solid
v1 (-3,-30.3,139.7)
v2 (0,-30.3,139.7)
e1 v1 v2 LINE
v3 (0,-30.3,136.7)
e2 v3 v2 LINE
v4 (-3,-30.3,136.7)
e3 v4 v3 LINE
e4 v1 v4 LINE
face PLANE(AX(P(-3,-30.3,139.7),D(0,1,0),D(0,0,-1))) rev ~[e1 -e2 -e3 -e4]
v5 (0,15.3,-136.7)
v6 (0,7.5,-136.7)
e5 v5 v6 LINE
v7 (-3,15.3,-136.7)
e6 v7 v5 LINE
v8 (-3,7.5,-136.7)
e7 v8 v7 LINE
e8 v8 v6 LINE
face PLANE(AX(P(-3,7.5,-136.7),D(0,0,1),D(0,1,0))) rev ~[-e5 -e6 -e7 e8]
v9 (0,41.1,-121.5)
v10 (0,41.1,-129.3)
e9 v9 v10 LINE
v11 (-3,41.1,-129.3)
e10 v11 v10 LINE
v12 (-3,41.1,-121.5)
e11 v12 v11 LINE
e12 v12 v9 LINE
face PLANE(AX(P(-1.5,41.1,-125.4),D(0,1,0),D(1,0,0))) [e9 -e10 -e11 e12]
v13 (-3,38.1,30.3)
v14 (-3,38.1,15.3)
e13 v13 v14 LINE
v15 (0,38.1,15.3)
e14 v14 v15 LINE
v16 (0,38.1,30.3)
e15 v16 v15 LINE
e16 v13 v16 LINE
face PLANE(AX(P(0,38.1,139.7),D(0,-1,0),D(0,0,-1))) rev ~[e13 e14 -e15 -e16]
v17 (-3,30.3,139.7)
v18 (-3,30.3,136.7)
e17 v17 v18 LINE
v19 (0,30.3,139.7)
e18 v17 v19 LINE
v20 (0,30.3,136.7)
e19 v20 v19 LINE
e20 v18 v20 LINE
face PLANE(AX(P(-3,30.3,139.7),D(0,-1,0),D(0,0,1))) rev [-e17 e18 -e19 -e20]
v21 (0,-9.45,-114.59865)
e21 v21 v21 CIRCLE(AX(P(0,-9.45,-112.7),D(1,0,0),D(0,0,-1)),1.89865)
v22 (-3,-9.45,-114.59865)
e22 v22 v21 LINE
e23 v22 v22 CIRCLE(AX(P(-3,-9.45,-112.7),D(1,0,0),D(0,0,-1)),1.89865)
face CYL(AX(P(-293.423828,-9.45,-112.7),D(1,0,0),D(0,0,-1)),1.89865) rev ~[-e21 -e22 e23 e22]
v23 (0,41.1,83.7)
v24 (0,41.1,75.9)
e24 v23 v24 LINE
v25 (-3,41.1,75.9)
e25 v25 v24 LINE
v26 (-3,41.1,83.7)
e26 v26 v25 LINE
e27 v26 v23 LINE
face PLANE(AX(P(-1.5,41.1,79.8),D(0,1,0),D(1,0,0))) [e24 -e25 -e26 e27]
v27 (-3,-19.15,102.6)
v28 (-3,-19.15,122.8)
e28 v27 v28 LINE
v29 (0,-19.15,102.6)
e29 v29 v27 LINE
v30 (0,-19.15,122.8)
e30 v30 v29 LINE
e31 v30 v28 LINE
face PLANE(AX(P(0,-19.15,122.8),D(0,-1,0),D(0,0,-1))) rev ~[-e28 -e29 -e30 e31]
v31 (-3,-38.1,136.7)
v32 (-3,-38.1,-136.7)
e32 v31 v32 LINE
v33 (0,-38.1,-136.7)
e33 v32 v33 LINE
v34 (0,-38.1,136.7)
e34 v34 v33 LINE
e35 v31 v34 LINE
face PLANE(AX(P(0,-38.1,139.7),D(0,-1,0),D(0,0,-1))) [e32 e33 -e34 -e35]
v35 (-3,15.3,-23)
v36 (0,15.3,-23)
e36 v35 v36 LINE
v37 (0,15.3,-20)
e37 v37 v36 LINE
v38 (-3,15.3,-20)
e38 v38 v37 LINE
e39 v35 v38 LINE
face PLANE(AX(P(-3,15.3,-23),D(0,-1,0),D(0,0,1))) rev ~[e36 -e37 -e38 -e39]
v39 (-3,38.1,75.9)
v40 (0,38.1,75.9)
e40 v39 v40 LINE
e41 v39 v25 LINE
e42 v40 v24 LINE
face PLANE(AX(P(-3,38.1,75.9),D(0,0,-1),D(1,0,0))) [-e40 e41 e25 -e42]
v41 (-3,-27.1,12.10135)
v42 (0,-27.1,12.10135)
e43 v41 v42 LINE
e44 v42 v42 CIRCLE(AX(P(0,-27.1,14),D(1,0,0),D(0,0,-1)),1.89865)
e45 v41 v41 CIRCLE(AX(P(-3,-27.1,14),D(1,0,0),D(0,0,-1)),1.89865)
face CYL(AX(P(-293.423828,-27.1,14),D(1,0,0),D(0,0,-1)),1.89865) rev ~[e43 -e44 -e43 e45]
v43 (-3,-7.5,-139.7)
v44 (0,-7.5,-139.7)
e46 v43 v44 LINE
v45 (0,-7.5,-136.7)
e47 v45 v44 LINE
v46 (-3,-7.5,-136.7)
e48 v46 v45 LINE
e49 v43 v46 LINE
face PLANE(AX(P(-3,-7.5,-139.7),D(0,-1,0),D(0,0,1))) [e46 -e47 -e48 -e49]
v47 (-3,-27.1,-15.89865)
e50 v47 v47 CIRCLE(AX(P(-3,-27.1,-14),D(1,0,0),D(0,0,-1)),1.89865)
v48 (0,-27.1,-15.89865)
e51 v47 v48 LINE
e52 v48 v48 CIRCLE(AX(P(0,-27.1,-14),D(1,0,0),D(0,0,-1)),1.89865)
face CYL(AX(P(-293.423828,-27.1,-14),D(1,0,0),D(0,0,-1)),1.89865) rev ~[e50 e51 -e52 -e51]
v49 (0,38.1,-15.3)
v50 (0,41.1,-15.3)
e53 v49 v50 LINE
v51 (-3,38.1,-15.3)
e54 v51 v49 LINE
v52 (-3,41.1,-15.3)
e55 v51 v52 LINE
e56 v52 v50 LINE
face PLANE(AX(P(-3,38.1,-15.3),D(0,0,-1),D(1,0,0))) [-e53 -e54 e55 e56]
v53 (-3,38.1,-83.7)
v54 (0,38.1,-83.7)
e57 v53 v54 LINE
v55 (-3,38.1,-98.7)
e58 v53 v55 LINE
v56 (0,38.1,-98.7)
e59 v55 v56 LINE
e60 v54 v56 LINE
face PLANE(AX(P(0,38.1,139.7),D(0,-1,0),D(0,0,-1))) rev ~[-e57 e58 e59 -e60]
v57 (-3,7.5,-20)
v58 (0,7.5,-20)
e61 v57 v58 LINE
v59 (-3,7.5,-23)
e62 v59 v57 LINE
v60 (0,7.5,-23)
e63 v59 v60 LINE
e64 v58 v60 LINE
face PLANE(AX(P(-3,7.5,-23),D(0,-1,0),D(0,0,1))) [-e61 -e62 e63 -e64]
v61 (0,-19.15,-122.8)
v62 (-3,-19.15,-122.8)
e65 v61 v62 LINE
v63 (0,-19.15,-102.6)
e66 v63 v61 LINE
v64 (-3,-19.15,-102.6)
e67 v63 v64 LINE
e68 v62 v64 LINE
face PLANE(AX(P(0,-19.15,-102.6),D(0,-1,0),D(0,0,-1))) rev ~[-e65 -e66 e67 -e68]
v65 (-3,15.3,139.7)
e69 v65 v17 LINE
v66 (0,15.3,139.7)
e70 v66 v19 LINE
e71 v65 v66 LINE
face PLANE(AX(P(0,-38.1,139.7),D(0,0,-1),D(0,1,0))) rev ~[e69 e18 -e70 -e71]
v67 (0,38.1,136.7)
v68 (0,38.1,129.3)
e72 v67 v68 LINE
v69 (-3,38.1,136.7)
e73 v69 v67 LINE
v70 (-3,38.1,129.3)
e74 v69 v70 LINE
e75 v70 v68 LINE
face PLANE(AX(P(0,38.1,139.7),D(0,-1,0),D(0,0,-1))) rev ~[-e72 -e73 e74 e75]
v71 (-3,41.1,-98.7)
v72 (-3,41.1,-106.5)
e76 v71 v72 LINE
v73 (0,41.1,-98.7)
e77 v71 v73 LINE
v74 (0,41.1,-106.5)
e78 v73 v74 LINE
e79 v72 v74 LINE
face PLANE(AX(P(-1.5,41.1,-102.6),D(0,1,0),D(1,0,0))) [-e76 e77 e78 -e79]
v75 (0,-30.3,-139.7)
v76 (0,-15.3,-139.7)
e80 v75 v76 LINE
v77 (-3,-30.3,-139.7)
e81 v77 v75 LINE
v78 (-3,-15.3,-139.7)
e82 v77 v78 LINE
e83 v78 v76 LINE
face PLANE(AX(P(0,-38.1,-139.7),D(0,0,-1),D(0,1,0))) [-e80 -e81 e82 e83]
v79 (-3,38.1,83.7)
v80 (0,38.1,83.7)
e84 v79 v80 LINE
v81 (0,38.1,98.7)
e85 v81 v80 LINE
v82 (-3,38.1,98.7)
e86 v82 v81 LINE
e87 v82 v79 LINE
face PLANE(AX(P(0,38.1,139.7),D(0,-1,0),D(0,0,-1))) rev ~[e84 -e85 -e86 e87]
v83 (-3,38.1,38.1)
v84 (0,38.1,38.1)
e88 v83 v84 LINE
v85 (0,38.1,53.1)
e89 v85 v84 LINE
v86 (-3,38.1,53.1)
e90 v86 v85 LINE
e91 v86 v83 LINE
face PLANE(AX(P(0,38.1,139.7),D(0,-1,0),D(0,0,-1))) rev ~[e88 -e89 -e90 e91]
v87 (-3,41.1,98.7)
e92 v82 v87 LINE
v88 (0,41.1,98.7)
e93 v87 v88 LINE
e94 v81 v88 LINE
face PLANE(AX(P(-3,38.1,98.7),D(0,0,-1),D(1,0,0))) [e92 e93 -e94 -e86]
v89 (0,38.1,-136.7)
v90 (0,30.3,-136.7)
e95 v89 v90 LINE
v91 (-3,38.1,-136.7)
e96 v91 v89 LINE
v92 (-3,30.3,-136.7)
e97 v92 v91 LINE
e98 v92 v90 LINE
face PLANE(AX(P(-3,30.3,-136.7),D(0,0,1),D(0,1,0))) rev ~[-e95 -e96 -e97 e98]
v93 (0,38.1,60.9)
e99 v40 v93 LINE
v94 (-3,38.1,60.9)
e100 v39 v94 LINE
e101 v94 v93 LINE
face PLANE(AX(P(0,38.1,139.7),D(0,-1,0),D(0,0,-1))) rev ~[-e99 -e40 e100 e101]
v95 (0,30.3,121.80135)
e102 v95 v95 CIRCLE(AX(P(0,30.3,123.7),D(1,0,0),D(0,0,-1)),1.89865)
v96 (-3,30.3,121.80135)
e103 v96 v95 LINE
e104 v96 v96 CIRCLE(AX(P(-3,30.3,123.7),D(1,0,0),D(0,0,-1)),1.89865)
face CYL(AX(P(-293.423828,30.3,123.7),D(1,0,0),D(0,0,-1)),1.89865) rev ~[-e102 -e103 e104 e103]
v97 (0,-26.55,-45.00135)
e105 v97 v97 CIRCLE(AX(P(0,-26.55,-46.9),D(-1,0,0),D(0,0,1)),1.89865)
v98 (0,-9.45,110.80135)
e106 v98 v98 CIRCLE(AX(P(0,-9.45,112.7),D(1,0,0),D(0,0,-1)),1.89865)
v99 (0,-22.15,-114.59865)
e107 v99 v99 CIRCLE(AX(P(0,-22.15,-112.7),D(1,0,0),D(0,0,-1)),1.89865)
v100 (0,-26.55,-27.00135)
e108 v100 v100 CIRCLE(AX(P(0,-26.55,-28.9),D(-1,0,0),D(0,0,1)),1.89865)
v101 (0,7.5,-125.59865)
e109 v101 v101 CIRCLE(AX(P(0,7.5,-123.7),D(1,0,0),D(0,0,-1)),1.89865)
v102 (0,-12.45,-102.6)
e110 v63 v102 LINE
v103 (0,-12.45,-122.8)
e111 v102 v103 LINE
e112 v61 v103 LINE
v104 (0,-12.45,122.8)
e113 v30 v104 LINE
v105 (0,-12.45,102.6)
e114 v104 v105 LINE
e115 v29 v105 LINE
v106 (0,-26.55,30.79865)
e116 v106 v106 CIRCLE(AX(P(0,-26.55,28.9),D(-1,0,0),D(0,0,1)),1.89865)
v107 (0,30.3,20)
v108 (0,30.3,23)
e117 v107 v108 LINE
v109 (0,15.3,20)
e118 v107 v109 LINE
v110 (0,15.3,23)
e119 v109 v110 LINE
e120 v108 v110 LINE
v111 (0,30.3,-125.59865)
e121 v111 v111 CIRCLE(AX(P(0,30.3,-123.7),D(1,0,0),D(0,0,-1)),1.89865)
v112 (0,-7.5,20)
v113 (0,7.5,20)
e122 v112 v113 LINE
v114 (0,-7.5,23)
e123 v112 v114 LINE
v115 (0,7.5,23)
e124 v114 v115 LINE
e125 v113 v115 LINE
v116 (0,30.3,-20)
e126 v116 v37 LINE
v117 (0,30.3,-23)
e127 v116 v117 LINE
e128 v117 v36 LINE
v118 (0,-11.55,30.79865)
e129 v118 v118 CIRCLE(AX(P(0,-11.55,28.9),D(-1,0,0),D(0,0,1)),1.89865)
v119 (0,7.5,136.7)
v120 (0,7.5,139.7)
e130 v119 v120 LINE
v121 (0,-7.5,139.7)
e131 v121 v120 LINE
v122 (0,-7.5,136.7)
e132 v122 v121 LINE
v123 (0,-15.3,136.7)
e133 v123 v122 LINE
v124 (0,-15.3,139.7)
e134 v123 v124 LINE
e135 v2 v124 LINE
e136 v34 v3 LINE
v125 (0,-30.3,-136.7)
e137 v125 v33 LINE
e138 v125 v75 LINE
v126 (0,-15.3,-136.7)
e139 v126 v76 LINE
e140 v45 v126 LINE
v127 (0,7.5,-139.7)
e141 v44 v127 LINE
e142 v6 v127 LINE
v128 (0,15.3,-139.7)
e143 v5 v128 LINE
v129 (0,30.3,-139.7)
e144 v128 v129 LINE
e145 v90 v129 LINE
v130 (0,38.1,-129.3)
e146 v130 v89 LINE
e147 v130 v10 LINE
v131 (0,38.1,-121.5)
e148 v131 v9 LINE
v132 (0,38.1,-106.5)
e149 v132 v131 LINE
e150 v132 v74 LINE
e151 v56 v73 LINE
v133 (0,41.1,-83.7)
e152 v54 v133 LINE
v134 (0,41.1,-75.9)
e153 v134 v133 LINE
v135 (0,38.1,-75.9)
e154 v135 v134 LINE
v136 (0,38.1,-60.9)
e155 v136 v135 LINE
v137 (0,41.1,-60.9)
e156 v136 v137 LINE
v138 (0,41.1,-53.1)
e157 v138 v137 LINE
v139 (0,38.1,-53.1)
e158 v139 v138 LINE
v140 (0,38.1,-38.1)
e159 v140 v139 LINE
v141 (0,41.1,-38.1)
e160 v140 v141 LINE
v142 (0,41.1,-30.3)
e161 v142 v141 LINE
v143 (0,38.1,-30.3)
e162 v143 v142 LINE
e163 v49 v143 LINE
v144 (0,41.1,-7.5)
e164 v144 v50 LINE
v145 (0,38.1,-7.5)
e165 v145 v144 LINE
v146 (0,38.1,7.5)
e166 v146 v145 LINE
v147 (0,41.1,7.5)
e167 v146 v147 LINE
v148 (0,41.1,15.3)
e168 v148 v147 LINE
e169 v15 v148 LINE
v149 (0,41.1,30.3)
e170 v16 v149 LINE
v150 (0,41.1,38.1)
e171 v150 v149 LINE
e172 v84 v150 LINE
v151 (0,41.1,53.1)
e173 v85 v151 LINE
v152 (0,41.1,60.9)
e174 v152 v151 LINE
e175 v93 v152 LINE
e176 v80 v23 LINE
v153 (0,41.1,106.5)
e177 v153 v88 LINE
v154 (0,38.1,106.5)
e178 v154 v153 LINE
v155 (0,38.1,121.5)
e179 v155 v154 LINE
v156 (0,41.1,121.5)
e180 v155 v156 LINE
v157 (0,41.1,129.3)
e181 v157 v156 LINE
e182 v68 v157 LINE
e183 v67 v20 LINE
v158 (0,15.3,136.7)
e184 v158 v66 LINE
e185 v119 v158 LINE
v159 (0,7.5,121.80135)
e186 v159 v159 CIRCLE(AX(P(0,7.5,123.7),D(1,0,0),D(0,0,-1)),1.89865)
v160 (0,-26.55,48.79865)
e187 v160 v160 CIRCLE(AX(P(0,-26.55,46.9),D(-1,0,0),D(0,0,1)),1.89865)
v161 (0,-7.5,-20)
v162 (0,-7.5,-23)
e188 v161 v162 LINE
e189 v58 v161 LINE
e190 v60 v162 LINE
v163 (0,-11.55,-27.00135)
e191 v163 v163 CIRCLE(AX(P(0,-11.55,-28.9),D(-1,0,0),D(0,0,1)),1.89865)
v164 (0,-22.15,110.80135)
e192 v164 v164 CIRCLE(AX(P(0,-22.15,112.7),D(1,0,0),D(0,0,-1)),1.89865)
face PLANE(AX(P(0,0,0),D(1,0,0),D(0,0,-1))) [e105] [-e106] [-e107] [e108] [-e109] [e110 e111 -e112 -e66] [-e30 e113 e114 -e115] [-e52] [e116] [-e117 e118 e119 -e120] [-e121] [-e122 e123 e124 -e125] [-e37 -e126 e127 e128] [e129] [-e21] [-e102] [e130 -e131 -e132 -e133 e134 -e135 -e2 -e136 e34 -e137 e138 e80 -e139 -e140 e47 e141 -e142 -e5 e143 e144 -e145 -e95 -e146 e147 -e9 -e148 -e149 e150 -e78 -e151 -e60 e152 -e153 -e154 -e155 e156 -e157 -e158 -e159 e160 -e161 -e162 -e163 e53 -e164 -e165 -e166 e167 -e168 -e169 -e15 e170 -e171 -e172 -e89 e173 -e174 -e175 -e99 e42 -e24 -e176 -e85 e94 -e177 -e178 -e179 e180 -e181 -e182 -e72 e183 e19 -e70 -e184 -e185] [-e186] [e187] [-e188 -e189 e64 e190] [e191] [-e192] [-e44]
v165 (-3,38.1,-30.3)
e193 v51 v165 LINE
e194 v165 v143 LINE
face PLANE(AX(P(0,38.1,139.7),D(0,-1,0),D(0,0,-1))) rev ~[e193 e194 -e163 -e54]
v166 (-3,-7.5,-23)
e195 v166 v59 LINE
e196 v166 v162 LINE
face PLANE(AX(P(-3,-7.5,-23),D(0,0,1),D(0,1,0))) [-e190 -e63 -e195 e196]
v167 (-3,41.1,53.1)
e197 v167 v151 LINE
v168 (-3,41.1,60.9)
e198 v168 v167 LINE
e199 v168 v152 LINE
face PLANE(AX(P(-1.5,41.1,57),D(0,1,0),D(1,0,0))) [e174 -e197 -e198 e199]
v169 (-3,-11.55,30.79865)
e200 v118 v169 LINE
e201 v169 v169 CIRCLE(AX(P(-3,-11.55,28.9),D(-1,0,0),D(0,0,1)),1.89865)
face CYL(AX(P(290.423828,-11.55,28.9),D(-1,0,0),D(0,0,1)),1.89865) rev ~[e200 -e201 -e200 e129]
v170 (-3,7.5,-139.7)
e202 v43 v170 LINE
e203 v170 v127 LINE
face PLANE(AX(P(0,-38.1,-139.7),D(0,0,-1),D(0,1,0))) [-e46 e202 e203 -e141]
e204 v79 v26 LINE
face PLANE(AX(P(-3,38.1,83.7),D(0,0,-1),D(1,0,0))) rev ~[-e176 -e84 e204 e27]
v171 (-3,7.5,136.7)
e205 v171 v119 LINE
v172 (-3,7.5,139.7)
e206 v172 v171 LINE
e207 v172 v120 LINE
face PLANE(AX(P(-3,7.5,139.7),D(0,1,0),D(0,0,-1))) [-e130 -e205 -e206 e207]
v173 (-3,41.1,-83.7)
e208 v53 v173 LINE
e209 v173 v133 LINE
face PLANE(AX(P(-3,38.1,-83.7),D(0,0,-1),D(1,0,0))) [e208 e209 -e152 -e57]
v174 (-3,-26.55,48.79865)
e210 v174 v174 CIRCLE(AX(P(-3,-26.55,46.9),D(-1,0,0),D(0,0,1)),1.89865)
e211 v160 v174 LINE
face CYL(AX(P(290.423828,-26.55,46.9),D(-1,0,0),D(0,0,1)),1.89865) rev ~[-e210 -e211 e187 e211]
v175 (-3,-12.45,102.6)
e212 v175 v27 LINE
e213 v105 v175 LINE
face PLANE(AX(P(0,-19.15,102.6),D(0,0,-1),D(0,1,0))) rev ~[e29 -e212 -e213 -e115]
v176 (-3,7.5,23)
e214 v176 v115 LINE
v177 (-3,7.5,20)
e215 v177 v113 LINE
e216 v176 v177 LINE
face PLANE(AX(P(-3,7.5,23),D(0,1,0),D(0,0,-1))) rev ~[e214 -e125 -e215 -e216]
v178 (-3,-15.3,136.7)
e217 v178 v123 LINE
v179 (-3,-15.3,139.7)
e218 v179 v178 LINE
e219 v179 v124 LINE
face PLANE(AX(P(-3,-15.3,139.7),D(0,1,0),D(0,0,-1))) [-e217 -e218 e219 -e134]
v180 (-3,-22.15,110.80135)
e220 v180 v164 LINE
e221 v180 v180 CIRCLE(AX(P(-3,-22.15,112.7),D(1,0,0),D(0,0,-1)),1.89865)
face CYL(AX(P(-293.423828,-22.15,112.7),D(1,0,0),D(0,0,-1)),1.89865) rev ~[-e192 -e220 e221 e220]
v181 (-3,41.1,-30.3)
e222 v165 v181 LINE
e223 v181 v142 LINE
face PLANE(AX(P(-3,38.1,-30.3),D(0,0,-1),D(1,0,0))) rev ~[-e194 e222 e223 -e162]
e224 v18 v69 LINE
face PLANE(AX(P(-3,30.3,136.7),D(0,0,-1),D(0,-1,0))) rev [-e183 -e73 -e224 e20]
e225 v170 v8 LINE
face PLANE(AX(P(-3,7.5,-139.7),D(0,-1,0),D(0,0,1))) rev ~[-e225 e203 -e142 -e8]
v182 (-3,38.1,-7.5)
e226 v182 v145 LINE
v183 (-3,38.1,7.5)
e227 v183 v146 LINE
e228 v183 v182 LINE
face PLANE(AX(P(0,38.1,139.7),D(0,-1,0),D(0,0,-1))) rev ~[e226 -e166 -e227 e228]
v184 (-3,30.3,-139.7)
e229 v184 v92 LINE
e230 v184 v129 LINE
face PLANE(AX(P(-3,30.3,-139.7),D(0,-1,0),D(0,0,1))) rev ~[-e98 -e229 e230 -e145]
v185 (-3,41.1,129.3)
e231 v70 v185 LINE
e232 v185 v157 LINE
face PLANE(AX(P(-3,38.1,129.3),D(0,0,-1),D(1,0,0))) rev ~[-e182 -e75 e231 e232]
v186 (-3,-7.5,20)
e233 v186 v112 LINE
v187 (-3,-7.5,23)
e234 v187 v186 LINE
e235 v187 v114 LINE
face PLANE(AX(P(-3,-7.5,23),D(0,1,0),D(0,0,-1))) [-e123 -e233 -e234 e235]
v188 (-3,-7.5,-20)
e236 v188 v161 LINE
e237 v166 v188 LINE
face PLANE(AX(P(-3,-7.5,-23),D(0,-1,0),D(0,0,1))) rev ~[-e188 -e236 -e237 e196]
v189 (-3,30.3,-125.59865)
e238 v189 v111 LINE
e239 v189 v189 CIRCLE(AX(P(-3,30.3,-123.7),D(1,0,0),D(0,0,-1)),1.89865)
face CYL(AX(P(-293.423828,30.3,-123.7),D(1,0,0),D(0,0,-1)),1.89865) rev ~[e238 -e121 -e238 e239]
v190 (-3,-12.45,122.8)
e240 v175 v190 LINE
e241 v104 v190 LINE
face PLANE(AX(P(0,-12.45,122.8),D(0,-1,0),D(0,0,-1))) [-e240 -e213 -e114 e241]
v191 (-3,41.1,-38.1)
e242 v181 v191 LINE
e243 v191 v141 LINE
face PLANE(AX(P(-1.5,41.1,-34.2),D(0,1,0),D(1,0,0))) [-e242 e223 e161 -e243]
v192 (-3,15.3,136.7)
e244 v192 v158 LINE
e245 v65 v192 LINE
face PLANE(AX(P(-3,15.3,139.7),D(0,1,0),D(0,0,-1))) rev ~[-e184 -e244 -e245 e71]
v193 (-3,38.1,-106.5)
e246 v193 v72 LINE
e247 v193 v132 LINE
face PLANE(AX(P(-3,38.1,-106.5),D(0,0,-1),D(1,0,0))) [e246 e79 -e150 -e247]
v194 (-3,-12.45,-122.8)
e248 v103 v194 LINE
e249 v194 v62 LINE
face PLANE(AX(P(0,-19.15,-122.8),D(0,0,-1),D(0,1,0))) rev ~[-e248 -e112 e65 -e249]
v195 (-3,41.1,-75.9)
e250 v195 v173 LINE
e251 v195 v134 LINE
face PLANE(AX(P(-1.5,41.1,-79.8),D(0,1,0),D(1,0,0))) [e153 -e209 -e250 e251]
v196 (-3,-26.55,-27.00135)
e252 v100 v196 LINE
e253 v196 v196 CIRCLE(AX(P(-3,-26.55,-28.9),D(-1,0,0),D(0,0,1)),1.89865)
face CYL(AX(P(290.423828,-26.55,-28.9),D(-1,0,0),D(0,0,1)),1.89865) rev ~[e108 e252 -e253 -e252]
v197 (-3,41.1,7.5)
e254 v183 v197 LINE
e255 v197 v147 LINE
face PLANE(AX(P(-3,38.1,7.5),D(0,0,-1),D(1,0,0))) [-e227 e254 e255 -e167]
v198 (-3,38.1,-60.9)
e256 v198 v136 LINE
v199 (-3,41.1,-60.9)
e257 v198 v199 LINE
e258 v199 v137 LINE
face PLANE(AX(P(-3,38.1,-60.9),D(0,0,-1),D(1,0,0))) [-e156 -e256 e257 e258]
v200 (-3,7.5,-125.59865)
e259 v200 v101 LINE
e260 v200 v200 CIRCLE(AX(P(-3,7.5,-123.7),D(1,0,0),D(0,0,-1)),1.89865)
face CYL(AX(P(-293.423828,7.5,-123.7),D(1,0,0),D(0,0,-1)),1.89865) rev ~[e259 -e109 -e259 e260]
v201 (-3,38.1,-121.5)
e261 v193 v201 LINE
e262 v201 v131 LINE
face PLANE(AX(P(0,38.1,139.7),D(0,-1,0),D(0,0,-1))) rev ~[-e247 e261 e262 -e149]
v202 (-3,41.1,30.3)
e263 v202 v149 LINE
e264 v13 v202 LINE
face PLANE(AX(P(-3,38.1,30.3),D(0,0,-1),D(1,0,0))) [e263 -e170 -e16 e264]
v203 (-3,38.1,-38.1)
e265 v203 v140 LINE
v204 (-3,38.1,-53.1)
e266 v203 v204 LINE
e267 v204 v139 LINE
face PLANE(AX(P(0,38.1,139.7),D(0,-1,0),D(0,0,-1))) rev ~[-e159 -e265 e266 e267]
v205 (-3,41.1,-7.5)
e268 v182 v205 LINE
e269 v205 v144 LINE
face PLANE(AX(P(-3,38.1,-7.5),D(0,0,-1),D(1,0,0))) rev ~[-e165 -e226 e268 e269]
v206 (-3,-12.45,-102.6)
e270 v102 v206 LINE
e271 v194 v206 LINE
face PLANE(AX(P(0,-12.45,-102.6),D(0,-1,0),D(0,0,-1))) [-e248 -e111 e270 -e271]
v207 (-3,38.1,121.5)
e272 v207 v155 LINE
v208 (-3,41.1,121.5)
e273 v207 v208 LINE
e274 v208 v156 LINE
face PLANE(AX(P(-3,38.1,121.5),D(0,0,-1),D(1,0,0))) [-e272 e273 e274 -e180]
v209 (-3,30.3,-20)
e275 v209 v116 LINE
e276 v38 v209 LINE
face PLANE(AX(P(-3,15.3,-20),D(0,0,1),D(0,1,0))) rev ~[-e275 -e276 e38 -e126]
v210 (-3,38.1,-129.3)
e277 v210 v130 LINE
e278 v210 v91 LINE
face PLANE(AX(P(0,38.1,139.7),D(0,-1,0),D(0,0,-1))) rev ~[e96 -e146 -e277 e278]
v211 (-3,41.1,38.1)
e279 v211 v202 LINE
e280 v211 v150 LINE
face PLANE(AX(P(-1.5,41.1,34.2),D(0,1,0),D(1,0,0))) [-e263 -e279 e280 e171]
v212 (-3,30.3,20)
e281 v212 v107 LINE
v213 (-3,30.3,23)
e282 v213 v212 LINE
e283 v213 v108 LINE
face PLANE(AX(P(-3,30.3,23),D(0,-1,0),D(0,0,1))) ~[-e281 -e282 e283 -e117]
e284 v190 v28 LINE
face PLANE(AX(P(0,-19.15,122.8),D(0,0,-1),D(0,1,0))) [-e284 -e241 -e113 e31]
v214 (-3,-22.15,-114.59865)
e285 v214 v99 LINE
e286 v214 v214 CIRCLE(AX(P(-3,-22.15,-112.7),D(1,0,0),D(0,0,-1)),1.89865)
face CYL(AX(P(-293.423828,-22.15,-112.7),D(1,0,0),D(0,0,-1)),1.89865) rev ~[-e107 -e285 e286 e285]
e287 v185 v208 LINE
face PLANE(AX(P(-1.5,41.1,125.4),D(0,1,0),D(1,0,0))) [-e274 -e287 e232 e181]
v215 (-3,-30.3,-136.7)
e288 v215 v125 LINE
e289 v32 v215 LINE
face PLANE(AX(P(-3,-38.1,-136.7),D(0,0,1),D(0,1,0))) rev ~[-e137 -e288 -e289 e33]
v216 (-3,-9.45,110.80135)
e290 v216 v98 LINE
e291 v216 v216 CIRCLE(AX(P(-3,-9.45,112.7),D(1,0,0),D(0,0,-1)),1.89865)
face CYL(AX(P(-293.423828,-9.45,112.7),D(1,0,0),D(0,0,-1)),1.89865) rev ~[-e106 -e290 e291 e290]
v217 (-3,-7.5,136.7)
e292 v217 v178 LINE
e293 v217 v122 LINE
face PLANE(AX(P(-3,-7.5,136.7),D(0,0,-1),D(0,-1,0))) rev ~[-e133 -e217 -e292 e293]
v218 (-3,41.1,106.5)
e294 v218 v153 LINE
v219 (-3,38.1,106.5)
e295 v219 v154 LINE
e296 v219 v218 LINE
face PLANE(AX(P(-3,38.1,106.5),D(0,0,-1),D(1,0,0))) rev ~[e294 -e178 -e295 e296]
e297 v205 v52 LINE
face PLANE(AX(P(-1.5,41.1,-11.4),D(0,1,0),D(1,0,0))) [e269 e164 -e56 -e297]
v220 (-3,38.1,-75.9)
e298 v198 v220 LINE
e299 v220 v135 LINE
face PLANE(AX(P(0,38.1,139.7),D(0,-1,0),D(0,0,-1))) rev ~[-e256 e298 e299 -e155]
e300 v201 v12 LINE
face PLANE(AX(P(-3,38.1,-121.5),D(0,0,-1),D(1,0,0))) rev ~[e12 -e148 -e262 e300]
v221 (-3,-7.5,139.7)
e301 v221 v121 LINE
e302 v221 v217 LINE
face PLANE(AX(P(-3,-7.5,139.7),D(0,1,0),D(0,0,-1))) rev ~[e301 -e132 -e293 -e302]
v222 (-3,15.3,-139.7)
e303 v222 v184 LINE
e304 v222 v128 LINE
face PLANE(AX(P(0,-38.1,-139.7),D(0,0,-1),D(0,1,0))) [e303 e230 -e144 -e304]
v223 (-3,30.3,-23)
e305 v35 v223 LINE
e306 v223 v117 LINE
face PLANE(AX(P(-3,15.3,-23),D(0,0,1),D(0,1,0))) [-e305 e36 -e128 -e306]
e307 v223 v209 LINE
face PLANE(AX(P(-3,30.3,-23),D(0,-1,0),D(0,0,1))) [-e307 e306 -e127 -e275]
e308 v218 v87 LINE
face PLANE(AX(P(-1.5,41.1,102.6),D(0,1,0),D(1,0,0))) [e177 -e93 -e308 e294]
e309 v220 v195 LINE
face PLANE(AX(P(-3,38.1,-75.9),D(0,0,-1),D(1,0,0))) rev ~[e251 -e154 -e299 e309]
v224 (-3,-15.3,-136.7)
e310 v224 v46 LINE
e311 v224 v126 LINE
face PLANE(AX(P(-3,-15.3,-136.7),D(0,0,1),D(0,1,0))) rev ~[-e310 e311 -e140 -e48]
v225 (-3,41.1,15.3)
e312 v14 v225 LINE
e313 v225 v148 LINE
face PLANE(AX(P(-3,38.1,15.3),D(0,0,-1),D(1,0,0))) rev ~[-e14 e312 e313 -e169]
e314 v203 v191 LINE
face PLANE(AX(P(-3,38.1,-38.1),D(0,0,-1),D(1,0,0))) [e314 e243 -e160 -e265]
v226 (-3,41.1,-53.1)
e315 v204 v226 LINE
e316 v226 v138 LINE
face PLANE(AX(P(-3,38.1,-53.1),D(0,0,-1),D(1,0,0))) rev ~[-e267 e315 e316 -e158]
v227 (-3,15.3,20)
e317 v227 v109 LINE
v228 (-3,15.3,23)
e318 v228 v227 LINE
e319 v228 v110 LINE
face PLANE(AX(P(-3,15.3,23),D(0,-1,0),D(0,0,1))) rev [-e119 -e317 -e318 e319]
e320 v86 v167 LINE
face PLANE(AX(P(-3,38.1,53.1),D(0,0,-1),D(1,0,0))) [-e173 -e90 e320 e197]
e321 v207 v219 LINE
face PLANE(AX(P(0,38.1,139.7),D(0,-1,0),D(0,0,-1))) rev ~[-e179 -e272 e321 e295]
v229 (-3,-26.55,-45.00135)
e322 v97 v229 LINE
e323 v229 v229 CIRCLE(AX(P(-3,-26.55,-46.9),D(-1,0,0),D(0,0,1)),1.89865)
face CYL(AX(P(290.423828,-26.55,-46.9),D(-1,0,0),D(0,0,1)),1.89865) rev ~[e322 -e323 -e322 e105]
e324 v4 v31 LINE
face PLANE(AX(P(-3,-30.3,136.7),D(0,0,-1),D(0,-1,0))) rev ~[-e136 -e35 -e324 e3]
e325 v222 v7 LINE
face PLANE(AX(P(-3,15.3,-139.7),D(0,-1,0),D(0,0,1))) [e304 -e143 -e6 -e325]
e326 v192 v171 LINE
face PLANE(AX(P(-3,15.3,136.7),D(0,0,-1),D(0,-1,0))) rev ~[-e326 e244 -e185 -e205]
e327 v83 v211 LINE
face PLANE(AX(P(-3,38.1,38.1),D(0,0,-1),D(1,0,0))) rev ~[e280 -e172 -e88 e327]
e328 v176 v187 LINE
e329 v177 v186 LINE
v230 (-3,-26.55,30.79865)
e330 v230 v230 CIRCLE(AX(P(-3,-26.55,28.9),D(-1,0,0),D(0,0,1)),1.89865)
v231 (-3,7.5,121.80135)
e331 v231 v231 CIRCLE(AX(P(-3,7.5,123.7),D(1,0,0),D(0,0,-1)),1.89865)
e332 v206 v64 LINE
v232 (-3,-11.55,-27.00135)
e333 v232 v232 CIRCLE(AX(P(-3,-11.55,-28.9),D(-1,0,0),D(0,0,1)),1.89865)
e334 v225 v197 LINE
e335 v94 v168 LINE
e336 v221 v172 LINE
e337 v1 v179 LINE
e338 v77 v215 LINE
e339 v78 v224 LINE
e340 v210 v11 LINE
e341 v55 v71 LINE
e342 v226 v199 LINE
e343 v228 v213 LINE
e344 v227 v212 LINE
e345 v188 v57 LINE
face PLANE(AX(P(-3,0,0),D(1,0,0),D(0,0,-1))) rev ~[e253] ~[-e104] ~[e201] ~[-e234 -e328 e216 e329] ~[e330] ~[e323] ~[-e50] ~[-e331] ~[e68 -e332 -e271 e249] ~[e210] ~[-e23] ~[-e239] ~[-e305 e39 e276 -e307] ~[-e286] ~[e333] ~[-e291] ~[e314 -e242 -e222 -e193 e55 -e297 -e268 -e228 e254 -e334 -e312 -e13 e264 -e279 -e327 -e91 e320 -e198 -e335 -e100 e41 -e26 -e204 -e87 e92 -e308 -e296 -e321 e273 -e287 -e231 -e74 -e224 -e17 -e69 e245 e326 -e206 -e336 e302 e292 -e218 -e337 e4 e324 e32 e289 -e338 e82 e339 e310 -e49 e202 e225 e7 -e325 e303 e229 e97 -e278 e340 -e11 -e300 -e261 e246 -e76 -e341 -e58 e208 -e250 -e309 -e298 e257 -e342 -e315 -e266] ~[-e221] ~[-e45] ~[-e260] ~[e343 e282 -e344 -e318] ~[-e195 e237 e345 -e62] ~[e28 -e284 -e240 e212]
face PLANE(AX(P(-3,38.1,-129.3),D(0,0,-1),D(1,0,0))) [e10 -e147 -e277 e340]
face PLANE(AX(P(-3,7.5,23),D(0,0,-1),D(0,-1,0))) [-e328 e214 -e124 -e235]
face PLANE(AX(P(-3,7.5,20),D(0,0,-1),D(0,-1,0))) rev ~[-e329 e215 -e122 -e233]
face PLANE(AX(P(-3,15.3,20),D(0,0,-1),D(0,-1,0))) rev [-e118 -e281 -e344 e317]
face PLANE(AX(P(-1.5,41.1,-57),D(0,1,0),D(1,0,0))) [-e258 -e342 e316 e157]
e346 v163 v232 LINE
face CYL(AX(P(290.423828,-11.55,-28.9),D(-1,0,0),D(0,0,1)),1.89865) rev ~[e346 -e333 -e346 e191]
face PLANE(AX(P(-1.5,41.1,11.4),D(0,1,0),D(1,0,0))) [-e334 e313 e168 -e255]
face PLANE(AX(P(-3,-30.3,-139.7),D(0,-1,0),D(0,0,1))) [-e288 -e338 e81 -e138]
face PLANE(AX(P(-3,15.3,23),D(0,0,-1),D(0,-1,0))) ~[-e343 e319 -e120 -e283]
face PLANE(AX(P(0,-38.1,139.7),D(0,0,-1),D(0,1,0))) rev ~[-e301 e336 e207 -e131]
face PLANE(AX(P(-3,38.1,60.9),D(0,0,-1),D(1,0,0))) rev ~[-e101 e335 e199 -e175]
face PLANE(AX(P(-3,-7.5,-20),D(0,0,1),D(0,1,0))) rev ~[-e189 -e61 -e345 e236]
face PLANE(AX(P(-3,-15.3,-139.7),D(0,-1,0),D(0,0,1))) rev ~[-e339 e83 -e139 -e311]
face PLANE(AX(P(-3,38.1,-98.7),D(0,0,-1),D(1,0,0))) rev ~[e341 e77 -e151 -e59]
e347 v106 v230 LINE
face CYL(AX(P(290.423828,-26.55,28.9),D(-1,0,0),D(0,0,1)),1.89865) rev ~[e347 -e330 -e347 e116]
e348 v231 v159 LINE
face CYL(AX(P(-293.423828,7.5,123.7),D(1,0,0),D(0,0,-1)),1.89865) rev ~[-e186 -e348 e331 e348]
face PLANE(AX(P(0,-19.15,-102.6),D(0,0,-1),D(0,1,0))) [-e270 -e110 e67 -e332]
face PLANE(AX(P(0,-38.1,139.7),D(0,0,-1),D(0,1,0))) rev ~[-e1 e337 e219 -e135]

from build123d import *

# Parameters (mm, degrees)
SKETCH1_W               = 279.4
SKETCH1_H               = 76.2
BOSS_EXTRUDE1_DEPTH     = 3
SKETCH3_W               = 3
SKETCH3_H               = 7.8
CUT_EXTRUDE1_DEPTH      = 145.833352512
LPATTERN1_COUNT         = 4
LPATTERN1_PITCH         = 22.8
MIRROR1_COPY_1_SKETCH_W = 3
MIRROR1_COPY_1_SKETCH_H = 7.8
MIRROR1_COPY_1_DEPTH    = 145.833352512
MIRROR1_COPY_2_SKETCH_W = 3
MIRROR1_COPY_2_SKETCH_H = 7.8
MIRROR1_COPY_2_DEPTH    = 145.833352512
MIRROR1_COPY_3_SKETCH_W = 3
MIRROR1_COPY_3_SKETCH_H = 7.8
MIRROR1_COPY_3_DEPTH    = 145.833352512
SKETCH5_W               = 3
SKETCH5_H               = 15
CUT_EXTRUDE3_DEPTH      = 10
SKETCH9_W               = 3
SKETCH9_H               = 7.8
BOSS_EXTRUDE2_DEPTH     = 3
LPATTERN4_COUNT         = 12
LPATTERN4_PITCH         = 22.8
LPATTERN5_COUNT         = 2
LPATTERN5_PITCH         = 22.8
MIRROR2_COPY_1_SKETCH_W = 3
MIRROR2_COPY_1_SKETCH_H = 15
MIRROR2_COPY_1_DEPTH    = 10
F_6_CLEARANCE_HOLE1_D   = 3.7973
CUT_EXTRUDE4_REACH      = 147.651
SKETCH12_W              = 20.2
SKETCH12_H              = 6.7
F_6_CLEARANCE_HOLE2_D   = 3.7973
F_6_CLEARANCE_HOLE3_D   = 3.7973
F_6_CLEARANCE_HOLE4_D   = 3.7973


with BuildPart() as part:
    # Sketch1 → Boss-Extrude1 (new body)
    with BuildSketch(Plane(origin=(0, 0, 0), x_dir=(0, 0, -1), z_dir=(1, 0, 0))):
        Rectangle(SKETCH1_W, SKETCH1_H)
    extrude(amount=-BOSS_EXTRUDE1_DEPTH)

    # Sketch3 → Cut-Extrude1 (cut, through all)
    with BuildSketch(Plane.ZY.offset(3)):
        with Locations((-138.2, 34.2)):
            Rectangle(SKETCH3_W, SKETCH3_H)
    cut_extrude1 = extrude(amount=-CUT_EXTRUDE1_DEPTH, mode=Mode.SUBTRACT)

    # LPattern1: Cut-Extrude1 ×4
    with Locations(*[(0, -i * LPATTERN1_PITCH, 0) for i in range(1, LPATTERN1_COUNT)]):
        add(cut_extrude1, mode=Mode.SUBTRACT)

    # Mirror1: Cut-Extrude1 across plane
    add(cut_extrude1.mirror(Plane.XY), mode=Mode.SUBTRACT)

    # Mirror1 copy 1 sketch → Mirror1 copy 1 (cut, through all)
    with BuildSketch(Plane(origin=(-3, -22.8, 0), x_dir=(0, 0, -1), z_dir=(-1, 0, 0))):
        with Locations((-138.2, -34.2)):
            Rectangle(MIRROR1_COPY_1_SKETCH_W, MIRROR1_COPY_1_SKETCH_H)
    extrude(amount=-MIRROR1_COPY_1_DEPTH, mode=Mode.SUBTRACT)

    # Mirror1 copy 2 sketch → Mirror1 copy 2 (cut, through all)
    with BuildSketch(Plane(origin=(-3, -45.6, 0), x_dir=(0, 0, -1), z_dir=(-1, 0, 0))):
        with Locations((-138.2, -34.2)):
            Rectangle(MIRROR1_COPY_2_SKETCH_W, MIRROR1_COPY_2_SKETCH_H)
    extrude(amount=-MIRROR1_COPY_2_DEPTH, mode=Mode.SUBTRACT)

    # Mirror1 copy 3 sketch → Mirror1 copy 3 (cut, through all)
    with BuildSketch(Plane(origin=(-3, -68.4, 0), x_dir=(0, 0, -1), z_dir=(-1, 0, 0))):
        with Locations((-138.2, -34.2)):
            Rectangle(MIRROR1_COPY_3_SKETCH_W, MIRROR1_COPY_3_SKETCH_H)
    extrude(amount=-MIRROR1_COPY_3_DEPTH, mode=Mode.SUBTRACT)

    # Sketch5 → Cut-Extrude3 (cut)
    with BuildSketch(Plane.ZY.offset(3)):
        with Locations((-21.5, 22.8)):
            Rectangle(SKETCH5_W, SKETCH5_H)
    cut_extrude3 = extrude(amount=-CUT_EXTRUDE3_DEPTH, mode=Mode.SUBTRACT)

    # Sketch9 → Boss-Extrude2 (add)
    with BuildSketch(Plane(origin=(0, 38.1, 0), x_dir=(1, 0, 0), z_dir=(0, 1, 0))):
        with Locations((-1.5, 125.4)):
            Rectangle(SKETCH9_W, SKETCH9_H)
    boss_extrude2 = extrude(amount=BOSS_EXTRUDE2_DEPTH)

    # LPattern4: Boss-Extrude2 ×12
    with Locations(*[(0, 0, i * LPATTERN4_PITCH) for i in range(1, LPATTERN4_COUNT)]):
        add(boss_extrude2)

    # LPattern5: Cut-Extrude3 ×2
    with Locations(*[(0, -i * LPATTERN5_PITCH, 0) for i in range(1, LPATTERN5_COUNT)]):
        add(cut_extrude3, mode=Mode.SUBTRACT)

    # Mirror2: Cut-Extrude3 across plane
    add(cut_extrude3.mirror(Plane.XY), mode=Mode.SUBTRACT)

    # Mirror2 copy 1 sketch → Mirror2 copy 1 (cut)
    with BuildSketch(Plane(origin=(-3, -22.8, 0), x_dir=(0, 0, -1), z_dir=(-1, 0, 0))):
        with Locations((-21.5, -22.8)):
            Rectangle(MIRROR2_COPY_1_SKETCH_W, MIRROR2_COPY_1_SKETCH_H)
    extrude(amount=-MIRROR2_COPY_1_DEPTH, mode=Mode.SUBTRACT)

    # #6 Clearance Hole1 (through all)
    with Locations(Plane(origin=(0, 0, 0), x_dir=(0, 0, -1), z_dir=(1, 0, 0))):
        with Locations((-28.9, -11.55), (-28.9, -26.55), (28.9, -26.55), (28.9, -11.55), (-46.9, -26.55), (46.9, -26.55)):
            Hole(F_6_CLEARANCE_HOLE1_D / 2)

    # Sketch12 → Cut-Extrude4 (cut, up to next)
    with BuildSketch(Plane(origin=(0, 0, 0), x_dir=(0, 0, -1), z_dir=(1, 0, 0)), mode=Mode.PRIVATE) as cut_extrude4_sk1:
        with Locations((-112.7, -15.8)):
            Rectangle(SKETCH12_W, SKETCH12_H)
    cut_extrude4_tool1 = extrude(cut_extrude4_sk1.sketch, amount=-CUT_EXTRUDE4_REACH, mode=Mode.PRIVATE) & part.part
    # Sketch12 → Cut-Extrude4 (cut, up to next)
    with BuildSketch(Plane(origin=(0, 0, 0), x_dir=(0, 0, -1), z_dir=(1, 0, 0)), mode=Mode.PRIVATE) as cut_extrude4_sk2:
        with Locations((112.7, -15.8)):
            Rectangle(SKETCH12_W, SKETCH12_H)
    cut_extrude4_tool2 = extrude(cut_extrude4_sk2.sketch, amount=-CUT_EXTRUDE4_REACH, mode=Mode.PRIVATE) & part.part
    add(cut_extrude4_tool1.solids().sort_by_distance((0, -15.8, 112.7))[0], mode=Mode.SUBTRACT)
    add(cut_extrude4_tool2.solids().sort_by_distance((0, -15.8, -112.7))[0], mode=Mode.SUBTRACT)

    # #6 Clearance Hole2 (through all)
    with Locations(Plane.ZY.offset(3)):
        with Locations((-112.7, -9.45), (-112.7, -22.15), (112.7, -22.15), (112.7, -9.45)):
            Hole(F_6_CLEARANCE_HOLE2_D / 2)

    # #6 Clearance Hole3 (through all)
    with Locations(Plane.ZY.offset(3)):
        with Locations((14, -27.1), (-14, -27.1)):
            Hole(F_6_CLEARANCE_HOLE3_D / 2)

    # #6 Clearance Hole4 (through all)
    with Locations(Plane.ZY.offset(3)):
        with Locations((-123.7, 30.3), (-123.7, 7.5), (123.7, 7.5), (123.7, 30.3)):
            Hole(F_6_CLEARANCE_HOLE4_D / 2)


solid = part.part
